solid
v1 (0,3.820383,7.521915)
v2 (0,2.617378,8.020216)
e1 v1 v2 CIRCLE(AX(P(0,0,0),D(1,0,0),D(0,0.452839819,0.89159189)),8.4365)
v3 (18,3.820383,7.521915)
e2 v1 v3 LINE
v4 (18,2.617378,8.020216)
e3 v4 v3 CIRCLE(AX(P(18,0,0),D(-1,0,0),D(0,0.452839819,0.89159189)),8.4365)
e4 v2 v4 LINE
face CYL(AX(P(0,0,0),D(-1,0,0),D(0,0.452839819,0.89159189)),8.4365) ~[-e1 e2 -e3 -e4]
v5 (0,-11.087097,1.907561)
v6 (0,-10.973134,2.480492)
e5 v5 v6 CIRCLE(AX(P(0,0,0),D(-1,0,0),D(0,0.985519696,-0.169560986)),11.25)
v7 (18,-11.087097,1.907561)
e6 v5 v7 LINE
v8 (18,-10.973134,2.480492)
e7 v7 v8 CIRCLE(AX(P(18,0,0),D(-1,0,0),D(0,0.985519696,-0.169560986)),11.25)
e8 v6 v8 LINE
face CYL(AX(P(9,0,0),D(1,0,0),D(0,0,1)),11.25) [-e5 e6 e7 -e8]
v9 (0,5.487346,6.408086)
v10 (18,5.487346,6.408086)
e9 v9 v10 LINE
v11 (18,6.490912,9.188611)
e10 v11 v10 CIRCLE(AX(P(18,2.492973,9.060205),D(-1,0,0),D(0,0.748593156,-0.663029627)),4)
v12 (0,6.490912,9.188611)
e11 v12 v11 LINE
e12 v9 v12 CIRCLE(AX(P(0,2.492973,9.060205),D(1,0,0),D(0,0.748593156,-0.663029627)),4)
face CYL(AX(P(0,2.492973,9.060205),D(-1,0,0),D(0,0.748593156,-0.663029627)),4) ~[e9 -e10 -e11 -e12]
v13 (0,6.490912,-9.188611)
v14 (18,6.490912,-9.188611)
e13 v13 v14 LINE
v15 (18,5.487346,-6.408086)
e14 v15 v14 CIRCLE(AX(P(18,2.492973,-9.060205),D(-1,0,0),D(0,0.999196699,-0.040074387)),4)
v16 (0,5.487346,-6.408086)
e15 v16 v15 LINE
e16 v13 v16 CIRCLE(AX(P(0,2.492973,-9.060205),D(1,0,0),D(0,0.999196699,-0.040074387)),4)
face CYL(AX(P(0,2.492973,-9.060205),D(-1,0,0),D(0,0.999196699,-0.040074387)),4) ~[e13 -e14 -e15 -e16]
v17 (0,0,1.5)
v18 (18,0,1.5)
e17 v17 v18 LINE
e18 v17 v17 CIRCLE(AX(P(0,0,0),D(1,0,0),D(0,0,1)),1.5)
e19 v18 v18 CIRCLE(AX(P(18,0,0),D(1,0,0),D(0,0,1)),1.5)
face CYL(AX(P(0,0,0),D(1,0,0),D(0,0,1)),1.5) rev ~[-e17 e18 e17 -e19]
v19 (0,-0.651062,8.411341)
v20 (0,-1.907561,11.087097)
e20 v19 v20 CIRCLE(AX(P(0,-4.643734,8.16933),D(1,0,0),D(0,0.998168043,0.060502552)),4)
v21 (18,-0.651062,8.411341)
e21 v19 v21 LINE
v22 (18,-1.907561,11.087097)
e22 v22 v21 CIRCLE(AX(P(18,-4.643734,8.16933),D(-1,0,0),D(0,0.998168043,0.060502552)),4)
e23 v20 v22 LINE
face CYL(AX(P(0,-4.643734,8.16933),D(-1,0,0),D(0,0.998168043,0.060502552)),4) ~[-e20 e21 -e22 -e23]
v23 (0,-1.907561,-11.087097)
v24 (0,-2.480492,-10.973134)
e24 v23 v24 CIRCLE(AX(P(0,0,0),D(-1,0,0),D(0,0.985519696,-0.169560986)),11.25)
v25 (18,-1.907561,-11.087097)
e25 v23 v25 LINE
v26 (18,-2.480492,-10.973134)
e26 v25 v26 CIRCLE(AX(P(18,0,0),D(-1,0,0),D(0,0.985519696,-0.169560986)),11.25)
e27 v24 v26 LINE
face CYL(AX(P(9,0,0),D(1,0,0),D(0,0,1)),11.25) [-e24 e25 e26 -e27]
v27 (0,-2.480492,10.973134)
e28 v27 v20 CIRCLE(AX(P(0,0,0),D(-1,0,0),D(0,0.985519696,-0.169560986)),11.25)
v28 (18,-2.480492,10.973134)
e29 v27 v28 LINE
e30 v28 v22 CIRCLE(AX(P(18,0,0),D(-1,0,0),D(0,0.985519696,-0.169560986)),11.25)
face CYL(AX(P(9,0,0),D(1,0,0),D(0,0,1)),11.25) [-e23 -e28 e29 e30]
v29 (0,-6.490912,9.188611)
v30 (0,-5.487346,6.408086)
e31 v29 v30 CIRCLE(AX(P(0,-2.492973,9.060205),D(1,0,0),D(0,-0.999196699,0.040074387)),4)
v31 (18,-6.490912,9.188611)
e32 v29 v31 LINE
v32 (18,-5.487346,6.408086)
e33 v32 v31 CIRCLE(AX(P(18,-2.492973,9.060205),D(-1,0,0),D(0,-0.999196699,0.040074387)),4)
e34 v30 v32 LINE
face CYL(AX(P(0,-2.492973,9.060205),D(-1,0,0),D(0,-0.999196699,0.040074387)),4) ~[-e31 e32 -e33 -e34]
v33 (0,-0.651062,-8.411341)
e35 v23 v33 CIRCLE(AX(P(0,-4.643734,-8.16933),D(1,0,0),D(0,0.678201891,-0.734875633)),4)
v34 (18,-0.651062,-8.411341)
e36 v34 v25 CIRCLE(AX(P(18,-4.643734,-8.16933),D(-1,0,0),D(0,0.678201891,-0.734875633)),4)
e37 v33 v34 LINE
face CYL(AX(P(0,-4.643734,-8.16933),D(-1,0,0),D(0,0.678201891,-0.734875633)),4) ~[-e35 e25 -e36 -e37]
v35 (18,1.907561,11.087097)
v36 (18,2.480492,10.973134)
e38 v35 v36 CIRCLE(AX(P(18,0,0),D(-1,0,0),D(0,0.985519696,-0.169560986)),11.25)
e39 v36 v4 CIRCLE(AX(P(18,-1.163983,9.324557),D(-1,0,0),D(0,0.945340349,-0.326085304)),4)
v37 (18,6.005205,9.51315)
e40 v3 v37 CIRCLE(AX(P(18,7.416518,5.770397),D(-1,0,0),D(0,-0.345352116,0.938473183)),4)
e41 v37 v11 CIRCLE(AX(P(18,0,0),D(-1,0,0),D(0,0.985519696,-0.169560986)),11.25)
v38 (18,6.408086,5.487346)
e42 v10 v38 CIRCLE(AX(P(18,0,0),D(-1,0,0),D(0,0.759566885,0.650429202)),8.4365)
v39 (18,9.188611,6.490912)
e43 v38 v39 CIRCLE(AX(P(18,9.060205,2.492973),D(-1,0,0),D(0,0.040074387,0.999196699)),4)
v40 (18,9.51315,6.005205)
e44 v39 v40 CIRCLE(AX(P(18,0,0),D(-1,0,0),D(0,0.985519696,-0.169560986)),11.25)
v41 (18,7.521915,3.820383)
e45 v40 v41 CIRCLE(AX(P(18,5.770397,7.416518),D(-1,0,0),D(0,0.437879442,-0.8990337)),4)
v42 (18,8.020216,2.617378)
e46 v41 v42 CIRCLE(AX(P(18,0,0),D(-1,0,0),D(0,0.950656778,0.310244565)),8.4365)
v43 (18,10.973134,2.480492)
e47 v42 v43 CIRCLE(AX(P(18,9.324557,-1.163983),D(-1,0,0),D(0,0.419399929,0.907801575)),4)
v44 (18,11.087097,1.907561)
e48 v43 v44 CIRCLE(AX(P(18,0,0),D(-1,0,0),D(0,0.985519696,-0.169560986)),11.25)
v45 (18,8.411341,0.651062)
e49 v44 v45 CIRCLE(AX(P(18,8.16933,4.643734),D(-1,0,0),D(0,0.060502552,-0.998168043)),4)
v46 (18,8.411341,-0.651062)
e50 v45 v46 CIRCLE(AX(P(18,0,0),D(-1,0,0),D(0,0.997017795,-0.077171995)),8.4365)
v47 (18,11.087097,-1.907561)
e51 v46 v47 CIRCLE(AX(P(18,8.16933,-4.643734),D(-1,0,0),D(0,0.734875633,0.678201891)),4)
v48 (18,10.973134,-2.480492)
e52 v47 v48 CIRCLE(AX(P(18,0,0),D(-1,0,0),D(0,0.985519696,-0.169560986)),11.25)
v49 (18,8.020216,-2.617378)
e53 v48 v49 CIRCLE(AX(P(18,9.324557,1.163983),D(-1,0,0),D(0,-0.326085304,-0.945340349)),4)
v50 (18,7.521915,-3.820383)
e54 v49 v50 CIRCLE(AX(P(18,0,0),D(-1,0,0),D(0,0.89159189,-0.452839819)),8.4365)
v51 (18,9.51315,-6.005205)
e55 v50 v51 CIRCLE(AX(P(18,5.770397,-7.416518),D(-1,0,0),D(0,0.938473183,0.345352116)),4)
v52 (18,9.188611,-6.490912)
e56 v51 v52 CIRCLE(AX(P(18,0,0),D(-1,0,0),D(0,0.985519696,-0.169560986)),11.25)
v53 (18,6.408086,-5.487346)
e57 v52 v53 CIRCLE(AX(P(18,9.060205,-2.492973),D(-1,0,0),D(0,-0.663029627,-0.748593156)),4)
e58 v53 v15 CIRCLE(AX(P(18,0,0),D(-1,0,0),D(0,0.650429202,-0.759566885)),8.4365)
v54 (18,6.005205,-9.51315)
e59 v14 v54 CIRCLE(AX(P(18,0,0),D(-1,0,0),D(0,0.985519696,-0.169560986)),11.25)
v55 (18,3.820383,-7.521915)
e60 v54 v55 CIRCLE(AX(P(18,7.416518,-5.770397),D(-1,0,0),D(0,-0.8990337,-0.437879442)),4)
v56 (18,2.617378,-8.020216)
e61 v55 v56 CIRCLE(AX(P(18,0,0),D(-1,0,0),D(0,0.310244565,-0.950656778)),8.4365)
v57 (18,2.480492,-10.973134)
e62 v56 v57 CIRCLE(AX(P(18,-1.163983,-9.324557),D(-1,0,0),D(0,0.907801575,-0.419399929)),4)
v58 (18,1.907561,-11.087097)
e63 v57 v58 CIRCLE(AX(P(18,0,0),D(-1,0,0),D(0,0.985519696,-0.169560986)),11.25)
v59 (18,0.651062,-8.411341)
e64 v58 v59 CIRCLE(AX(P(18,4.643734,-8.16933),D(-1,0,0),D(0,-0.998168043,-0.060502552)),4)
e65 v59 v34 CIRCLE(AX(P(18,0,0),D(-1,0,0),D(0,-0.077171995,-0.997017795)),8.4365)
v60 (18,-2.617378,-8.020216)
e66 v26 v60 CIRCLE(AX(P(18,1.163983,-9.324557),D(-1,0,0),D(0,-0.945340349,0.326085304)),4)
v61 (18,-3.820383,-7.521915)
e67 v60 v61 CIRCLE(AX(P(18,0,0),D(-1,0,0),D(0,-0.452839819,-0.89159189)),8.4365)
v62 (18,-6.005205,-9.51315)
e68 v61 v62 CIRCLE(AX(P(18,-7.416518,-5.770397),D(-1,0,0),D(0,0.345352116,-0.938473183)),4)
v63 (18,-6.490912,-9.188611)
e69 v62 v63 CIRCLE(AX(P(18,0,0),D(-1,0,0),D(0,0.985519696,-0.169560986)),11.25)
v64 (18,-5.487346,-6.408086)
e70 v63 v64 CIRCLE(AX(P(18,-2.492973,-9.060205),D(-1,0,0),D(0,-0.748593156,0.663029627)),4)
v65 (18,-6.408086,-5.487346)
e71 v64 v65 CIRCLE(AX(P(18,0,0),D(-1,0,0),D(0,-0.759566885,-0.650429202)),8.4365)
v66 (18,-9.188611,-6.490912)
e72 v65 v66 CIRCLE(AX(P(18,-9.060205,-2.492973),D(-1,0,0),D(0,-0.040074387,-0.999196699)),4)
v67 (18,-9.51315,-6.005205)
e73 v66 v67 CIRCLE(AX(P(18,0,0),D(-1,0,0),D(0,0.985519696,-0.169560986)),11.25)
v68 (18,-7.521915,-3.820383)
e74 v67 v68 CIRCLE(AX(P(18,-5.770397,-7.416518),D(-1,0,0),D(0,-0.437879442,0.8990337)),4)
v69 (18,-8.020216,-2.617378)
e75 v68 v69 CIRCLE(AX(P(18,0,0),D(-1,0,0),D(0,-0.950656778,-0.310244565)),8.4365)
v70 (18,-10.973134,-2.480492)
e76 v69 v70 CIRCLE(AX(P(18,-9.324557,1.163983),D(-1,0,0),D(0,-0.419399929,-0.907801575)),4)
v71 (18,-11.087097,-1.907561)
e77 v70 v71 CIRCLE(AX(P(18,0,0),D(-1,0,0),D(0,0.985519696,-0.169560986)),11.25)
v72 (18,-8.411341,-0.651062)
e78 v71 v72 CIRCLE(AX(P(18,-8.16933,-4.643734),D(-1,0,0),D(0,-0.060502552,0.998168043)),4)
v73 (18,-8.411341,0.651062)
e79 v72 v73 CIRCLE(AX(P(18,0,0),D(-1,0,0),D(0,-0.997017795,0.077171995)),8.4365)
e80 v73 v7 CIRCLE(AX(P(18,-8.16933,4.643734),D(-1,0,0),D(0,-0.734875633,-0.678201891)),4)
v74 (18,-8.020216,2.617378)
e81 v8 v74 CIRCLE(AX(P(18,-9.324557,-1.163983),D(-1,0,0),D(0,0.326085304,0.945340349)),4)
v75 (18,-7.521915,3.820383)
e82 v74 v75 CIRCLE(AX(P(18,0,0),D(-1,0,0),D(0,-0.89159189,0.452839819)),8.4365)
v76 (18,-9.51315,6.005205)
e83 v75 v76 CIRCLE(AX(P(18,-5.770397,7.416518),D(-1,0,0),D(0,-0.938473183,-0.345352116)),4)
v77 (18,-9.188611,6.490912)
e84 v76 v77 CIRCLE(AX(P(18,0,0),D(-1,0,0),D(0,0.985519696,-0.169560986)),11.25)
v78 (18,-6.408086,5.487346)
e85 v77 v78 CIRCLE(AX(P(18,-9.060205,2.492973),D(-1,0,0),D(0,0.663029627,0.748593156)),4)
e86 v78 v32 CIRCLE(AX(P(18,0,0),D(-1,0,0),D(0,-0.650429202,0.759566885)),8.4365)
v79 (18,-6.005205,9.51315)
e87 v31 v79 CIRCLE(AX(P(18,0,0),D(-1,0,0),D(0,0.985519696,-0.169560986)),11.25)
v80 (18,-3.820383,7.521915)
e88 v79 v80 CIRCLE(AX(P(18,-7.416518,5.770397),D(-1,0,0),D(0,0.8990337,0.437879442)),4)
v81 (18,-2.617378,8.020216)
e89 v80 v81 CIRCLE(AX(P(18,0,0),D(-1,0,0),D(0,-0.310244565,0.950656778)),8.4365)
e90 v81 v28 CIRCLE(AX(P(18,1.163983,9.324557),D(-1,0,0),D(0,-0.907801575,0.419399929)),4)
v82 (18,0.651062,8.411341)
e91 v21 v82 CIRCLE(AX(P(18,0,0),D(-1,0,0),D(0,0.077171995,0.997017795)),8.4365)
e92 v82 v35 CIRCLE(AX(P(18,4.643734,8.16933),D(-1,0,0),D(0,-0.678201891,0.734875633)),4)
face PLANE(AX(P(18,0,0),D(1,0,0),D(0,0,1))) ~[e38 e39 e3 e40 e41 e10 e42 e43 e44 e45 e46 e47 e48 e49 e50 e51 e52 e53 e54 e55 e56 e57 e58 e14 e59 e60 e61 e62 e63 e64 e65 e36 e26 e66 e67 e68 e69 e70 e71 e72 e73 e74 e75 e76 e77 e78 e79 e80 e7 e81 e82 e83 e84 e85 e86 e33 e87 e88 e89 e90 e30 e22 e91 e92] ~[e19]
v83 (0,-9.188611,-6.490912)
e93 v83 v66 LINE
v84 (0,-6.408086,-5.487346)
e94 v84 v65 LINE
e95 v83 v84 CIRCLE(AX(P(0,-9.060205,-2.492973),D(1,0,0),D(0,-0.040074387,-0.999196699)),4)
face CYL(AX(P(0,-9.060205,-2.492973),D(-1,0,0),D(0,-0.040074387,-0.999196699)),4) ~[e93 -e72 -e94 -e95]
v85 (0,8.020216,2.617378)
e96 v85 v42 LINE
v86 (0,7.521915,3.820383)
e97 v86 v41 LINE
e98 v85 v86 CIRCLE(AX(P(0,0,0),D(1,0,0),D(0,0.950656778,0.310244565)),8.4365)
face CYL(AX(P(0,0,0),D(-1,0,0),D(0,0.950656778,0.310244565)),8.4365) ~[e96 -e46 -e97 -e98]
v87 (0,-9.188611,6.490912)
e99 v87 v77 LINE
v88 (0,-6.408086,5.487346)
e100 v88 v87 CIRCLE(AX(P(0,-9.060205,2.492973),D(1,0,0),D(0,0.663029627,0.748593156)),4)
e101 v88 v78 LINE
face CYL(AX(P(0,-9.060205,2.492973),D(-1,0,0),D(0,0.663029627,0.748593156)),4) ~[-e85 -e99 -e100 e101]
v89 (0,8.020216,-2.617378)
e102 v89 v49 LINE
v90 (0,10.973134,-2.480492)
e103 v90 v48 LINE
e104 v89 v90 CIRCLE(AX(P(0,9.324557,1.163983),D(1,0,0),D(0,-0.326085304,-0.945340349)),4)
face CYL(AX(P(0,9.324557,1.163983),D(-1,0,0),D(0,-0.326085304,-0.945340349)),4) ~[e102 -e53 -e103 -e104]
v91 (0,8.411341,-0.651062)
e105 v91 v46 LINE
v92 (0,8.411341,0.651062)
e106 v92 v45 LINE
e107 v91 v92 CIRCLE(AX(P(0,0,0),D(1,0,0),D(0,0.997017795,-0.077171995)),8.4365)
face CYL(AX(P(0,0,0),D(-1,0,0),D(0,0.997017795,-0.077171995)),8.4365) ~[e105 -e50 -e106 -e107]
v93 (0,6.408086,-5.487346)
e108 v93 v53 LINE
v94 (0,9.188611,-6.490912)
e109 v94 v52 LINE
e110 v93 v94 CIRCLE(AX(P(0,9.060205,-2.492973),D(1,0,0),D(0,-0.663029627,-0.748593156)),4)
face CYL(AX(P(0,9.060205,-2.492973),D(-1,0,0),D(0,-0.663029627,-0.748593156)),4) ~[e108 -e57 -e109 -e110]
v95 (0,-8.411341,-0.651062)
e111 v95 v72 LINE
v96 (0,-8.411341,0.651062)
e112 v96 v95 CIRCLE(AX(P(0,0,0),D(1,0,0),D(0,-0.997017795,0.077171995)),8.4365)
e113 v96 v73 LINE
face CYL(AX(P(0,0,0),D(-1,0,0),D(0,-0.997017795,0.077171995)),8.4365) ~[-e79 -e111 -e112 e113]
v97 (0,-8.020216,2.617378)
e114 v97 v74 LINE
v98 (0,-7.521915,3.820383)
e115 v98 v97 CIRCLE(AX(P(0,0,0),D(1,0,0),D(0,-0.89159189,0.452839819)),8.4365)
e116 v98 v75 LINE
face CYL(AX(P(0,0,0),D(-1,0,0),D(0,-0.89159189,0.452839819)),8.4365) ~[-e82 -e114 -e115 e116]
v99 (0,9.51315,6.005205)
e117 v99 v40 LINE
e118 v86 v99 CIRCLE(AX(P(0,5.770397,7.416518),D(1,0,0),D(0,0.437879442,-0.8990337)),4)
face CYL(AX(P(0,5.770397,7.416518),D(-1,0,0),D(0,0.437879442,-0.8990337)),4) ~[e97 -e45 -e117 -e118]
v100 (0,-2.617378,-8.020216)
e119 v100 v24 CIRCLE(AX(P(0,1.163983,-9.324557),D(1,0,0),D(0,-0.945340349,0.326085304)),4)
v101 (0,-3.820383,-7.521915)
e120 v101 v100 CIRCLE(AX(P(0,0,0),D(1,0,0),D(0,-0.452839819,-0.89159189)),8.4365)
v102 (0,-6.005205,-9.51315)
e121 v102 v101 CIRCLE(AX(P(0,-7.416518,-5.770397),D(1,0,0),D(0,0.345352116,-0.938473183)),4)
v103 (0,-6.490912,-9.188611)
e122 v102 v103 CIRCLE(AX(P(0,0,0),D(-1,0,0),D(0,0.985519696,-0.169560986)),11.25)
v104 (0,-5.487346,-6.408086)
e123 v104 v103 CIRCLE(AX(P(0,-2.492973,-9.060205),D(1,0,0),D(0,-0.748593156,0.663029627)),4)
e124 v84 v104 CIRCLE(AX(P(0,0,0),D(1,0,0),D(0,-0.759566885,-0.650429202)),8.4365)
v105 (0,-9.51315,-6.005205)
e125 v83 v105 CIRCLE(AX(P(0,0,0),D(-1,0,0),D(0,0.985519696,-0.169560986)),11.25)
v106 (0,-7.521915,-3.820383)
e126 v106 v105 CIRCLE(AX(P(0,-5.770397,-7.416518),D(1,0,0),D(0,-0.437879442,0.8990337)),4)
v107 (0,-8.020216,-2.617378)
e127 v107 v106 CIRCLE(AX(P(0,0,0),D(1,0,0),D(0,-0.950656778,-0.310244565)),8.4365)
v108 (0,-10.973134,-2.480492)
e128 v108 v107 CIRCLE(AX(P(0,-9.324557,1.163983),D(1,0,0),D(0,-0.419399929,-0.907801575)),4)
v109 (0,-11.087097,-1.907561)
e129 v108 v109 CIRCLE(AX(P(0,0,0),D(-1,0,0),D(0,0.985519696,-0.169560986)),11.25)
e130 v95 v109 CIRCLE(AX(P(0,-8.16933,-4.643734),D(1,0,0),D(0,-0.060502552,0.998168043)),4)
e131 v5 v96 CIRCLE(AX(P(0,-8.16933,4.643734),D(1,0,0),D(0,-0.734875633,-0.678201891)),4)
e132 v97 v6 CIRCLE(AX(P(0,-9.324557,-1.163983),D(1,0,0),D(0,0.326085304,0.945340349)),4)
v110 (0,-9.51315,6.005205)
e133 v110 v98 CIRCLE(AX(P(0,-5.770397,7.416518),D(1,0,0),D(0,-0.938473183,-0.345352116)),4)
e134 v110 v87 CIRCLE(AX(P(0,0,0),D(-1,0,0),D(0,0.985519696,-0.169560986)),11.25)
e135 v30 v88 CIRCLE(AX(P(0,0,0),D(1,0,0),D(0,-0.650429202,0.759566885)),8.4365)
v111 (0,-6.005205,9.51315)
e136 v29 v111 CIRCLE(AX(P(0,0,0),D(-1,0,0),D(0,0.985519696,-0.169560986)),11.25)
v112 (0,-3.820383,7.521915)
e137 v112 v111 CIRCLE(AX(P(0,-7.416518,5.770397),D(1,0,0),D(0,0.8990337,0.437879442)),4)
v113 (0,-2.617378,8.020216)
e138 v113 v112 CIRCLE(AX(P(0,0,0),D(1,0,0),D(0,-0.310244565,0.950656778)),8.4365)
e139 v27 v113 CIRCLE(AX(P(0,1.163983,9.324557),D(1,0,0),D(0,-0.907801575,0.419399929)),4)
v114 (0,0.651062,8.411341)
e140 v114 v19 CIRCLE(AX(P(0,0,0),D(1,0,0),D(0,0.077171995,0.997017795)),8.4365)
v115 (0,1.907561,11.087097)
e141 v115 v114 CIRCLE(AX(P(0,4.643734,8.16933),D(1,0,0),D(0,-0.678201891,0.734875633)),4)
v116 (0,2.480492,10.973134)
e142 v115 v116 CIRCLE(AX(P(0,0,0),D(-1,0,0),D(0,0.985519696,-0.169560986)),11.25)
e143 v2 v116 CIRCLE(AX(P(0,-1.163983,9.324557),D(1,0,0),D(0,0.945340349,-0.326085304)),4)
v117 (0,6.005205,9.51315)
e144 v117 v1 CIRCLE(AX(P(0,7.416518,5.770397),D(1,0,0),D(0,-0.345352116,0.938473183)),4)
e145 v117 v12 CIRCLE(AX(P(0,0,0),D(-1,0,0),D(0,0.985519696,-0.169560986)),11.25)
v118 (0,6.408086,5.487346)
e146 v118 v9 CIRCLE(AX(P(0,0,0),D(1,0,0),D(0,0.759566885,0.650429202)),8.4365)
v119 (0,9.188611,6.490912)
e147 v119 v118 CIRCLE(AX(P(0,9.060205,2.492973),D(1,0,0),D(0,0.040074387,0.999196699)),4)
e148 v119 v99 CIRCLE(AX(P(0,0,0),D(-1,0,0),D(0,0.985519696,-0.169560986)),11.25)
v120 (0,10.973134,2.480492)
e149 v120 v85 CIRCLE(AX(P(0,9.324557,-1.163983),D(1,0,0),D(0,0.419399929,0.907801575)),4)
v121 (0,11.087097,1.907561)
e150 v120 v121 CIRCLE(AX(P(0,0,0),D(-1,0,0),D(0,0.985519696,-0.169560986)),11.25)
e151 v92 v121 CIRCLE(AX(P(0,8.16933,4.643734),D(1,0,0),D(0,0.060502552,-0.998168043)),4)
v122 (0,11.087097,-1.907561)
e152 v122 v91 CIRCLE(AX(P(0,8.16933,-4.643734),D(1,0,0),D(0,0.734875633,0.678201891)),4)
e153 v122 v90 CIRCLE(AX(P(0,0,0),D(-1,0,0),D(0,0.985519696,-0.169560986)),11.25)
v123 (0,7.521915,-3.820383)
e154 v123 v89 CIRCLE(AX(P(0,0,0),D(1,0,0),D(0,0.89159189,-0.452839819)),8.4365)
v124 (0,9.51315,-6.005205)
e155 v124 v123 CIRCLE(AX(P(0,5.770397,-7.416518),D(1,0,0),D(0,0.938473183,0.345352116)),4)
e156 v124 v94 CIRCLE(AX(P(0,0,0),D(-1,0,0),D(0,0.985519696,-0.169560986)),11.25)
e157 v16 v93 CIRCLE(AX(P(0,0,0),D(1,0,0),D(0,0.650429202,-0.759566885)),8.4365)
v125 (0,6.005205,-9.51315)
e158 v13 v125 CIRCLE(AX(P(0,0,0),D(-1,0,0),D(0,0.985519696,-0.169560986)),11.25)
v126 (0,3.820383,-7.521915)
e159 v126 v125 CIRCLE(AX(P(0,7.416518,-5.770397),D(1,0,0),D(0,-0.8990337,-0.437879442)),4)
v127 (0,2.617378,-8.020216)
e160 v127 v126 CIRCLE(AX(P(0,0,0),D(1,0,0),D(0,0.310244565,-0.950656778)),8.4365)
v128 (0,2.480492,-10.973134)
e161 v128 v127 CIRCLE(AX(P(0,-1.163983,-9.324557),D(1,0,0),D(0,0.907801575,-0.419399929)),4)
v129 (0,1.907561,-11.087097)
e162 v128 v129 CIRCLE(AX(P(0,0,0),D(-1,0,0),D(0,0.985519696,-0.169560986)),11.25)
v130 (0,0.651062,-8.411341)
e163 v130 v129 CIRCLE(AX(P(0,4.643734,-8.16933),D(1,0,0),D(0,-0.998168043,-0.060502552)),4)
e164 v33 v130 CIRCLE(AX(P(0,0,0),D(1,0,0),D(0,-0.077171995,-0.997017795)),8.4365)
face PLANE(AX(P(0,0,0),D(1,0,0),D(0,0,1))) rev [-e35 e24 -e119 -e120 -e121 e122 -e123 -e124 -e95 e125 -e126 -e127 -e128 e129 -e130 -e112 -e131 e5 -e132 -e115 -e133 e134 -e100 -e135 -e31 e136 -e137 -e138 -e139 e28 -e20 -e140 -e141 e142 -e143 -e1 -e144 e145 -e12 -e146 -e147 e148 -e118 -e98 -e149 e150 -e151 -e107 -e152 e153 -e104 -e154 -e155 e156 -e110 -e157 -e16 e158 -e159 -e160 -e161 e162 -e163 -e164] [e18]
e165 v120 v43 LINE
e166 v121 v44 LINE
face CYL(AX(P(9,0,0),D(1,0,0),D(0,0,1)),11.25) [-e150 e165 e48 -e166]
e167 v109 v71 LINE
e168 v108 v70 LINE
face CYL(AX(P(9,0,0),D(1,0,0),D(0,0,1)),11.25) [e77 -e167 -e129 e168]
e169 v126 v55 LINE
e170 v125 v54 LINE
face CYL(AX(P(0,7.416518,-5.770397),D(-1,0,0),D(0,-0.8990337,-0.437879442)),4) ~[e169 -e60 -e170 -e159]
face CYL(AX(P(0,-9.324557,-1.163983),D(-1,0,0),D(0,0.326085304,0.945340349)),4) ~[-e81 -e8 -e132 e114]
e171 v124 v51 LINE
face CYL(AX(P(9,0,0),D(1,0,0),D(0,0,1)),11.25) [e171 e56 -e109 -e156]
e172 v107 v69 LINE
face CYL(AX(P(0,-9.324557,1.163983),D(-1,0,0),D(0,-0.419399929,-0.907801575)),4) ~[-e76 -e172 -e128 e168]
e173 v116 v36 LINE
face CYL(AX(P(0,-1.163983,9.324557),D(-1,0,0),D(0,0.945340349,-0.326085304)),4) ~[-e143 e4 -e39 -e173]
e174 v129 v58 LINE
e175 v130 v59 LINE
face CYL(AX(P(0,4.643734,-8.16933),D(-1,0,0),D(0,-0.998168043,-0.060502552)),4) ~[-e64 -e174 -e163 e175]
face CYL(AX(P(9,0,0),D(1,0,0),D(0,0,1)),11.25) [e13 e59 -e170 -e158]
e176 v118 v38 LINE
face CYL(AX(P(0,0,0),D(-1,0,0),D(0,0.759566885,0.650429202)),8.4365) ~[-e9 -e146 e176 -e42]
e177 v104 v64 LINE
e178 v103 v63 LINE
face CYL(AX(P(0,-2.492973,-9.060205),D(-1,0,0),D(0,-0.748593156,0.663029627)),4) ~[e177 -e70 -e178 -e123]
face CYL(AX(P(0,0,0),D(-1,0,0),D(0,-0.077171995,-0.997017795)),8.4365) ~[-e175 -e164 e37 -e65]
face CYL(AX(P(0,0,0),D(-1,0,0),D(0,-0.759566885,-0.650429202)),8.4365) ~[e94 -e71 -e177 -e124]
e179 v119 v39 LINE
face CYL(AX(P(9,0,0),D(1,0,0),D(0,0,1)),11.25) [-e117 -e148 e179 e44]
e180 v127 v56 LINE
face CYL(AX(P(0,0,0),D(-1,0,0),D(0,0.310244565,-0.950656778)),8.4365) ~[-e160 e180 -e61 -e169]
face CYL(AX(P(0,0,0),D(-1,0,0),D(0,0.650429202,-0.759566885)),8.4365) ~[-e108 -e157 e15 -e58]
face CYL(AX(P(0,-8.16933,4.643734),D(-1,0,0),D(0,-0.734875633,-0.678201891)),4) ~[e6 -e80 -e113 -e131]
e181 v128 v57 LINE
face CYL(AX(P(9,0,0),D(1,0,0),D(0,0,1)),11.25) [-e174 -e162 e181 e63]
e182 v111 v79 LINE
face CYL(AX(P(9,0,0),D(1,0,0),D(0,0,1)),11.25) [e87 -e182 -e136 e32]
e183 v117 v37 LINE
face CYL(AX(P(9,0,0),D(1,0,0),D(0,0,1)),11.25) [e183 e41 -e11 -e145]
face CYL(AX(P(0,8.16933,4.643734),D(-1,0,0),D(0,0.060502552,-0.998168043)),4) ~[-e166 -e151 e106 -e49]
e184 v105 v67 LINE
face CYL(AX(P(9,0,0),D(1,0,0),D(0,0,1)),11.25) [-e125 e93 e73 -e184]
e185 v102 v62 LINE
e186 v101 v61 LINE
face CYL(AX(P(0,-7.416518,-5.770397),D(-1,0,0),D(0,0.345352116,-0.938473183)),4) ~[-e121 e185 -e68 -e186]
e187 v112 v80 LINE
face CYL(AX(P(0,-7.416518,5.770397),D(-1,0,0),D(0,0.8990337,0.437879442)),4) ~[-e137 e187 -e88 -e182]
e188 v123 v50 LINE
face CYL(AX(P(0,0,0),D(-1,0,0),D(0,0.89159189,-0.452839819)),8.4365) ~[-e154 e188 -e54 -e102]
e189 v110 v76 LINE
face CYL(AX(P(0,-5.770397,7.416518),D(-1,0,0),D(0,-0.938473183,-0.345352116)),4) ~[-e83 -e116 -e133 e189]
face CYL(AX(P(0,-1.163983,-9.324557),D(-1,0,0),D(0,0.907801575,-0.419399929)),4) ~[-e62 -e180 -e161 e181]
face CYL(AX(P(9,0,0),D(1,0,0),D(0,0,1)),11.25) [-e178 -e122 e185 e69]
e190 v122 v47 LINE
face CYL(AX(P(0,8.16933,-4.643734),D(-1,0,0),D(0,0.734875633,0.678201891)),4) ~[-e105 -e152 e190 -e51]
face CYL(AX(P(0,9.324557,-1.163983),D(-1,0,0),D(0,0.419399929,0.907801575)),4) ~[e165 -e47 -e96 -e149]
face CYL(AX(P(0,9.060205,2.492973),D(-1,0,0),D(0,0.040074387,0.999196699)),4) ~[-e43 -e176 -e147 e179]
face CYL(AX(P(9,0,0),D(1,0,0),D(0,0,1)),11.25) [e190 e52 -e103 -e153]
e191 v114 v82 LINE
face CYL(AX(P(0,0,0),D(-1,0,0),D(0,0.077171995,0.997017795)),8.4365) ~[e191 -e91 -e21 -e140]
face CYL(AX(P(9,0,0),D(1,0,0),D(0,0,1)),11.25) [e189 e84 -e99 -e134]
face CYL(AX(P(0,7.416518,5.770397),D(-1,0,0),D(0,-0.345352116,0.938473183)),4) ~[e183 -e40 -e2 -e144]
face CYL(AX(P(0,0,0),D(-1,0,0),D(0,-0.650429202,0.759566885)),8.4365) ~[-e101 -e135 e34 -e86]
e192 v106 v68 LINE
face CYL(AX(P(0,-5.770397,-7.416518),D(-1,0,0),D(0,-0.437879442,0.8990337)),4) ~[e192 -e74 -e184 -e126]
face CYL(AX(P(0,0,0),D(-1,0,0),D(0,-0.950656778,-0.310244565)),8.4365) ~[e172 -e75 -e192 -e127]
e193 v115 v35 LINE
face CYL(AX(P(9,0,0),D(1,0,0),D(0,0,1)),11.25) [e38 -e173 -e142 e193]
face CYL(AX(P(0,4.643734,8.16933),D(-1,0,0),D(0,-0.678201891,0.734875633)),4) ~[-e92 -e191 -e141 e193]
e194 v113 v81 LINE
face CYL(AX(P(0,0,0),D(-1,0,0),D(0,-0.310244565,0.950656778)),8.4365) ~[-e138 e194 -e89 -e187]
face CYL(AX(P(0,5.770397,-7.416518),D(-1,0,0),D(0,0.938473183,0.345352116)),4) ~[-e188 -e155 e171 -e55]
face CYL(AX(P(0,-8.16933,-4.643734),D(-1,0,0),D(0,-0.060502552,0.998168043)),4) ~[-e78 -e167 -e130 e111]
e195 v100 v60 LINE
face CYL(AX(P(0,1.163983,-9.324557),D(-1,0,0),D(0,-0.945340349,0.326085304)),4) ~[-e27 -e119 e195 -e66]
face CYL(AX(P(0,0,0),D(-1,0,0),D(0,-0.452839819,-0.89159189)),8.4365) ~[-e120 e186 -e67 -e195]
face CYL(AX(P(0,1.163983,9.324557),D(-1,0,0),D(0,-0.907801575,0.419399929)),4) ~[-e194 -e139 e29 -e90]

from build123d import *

# Parameters (mm, degrees)
BASPROSKE_W     = 18
BASPROSKE_H     = 11.25
TOOTHCUT_DEPTH  = 25.023426067
TEETHCUTS_COUNT = 16
TEETHCUTS_ANGLE = 337.5
BORSKE_R        = 1.5
BORE_DEPTH      = 50.0000508


with BuildPart() as part:
    # BasProSke → Base-Revolve (revolve)
    with BuildSketch(Plane(origin=(0, 0, 0), x_dir=(1, 0, 0), z_dir=(0, 1, 0)), mode=Mode.PRIVATE) as base_revolve_sk:
        with Locations((9, 5.625)):
            Rectangle(BASPROSKE_W, BASPROSKE_H)
    revolve(base_revolve_sk.sketch.rotate(Axis((-10, 0, 0), (1, 0, 0)), 180), axis=Axis((-10, 0, 0), (1, 0, 0)))

    # TooCutSke → ToothCut (cut, through all)
    with BuildSketch(Plane(origin=(0, 0, 0), x_dir=(0, 0, -1), z_dir=(1, 0, 0))):
        with BuildLine():
            ThreePointArc((0.651061533, 8.411340626), (0, 8.4365), (-0.651061533, 8.411340626))
            ThreePointArc((-0.651061533, 8.411340626), (-1.029874156, 9.883978829), (-1.930926138, 11.108832945))
            ThreePointArc((-1.930926138, 11.108832945), (0, 11.2754), (1.930926138, 11.108832945))
            ThreePointArc((1.930926138, 11.108832945), (1.029874156, 9.883978829), (0.651061533, 8.411340626))
        make_face()
    toothcut = extrude(amount=TOOTHCUT_DEPTH, mode=Mode.SUBTRACT)

    # TeethCuts: ToothCut ×16 about axis
    teethcuts_axis = Axis((-10, 0, 0), (1, 0, 0))
    for i in range(1, TEETHCUTS_COUNT):
        add(toothcut.rotate(teethcuts_axis, i * TEETHCUTS_ANGLE / (TEETHCUTS_COUNT - 1)), mode=Mode.SUBTRACT)

    # BorSke → Bore (cut, symmetric)
    with BuildSketch(Plane(origin=(0, 0, 0), x_dir=(0, 0, -1), z_dir=(1, 0, 0))):
        with Locations(Location((0, 0, 0), (0, 0, 180))):
            Circle(BORSKE_R)
    extrude(amount=BORE_DEPTH, both=True, mode=Mode.SUBTRACT)


solid = part.part
